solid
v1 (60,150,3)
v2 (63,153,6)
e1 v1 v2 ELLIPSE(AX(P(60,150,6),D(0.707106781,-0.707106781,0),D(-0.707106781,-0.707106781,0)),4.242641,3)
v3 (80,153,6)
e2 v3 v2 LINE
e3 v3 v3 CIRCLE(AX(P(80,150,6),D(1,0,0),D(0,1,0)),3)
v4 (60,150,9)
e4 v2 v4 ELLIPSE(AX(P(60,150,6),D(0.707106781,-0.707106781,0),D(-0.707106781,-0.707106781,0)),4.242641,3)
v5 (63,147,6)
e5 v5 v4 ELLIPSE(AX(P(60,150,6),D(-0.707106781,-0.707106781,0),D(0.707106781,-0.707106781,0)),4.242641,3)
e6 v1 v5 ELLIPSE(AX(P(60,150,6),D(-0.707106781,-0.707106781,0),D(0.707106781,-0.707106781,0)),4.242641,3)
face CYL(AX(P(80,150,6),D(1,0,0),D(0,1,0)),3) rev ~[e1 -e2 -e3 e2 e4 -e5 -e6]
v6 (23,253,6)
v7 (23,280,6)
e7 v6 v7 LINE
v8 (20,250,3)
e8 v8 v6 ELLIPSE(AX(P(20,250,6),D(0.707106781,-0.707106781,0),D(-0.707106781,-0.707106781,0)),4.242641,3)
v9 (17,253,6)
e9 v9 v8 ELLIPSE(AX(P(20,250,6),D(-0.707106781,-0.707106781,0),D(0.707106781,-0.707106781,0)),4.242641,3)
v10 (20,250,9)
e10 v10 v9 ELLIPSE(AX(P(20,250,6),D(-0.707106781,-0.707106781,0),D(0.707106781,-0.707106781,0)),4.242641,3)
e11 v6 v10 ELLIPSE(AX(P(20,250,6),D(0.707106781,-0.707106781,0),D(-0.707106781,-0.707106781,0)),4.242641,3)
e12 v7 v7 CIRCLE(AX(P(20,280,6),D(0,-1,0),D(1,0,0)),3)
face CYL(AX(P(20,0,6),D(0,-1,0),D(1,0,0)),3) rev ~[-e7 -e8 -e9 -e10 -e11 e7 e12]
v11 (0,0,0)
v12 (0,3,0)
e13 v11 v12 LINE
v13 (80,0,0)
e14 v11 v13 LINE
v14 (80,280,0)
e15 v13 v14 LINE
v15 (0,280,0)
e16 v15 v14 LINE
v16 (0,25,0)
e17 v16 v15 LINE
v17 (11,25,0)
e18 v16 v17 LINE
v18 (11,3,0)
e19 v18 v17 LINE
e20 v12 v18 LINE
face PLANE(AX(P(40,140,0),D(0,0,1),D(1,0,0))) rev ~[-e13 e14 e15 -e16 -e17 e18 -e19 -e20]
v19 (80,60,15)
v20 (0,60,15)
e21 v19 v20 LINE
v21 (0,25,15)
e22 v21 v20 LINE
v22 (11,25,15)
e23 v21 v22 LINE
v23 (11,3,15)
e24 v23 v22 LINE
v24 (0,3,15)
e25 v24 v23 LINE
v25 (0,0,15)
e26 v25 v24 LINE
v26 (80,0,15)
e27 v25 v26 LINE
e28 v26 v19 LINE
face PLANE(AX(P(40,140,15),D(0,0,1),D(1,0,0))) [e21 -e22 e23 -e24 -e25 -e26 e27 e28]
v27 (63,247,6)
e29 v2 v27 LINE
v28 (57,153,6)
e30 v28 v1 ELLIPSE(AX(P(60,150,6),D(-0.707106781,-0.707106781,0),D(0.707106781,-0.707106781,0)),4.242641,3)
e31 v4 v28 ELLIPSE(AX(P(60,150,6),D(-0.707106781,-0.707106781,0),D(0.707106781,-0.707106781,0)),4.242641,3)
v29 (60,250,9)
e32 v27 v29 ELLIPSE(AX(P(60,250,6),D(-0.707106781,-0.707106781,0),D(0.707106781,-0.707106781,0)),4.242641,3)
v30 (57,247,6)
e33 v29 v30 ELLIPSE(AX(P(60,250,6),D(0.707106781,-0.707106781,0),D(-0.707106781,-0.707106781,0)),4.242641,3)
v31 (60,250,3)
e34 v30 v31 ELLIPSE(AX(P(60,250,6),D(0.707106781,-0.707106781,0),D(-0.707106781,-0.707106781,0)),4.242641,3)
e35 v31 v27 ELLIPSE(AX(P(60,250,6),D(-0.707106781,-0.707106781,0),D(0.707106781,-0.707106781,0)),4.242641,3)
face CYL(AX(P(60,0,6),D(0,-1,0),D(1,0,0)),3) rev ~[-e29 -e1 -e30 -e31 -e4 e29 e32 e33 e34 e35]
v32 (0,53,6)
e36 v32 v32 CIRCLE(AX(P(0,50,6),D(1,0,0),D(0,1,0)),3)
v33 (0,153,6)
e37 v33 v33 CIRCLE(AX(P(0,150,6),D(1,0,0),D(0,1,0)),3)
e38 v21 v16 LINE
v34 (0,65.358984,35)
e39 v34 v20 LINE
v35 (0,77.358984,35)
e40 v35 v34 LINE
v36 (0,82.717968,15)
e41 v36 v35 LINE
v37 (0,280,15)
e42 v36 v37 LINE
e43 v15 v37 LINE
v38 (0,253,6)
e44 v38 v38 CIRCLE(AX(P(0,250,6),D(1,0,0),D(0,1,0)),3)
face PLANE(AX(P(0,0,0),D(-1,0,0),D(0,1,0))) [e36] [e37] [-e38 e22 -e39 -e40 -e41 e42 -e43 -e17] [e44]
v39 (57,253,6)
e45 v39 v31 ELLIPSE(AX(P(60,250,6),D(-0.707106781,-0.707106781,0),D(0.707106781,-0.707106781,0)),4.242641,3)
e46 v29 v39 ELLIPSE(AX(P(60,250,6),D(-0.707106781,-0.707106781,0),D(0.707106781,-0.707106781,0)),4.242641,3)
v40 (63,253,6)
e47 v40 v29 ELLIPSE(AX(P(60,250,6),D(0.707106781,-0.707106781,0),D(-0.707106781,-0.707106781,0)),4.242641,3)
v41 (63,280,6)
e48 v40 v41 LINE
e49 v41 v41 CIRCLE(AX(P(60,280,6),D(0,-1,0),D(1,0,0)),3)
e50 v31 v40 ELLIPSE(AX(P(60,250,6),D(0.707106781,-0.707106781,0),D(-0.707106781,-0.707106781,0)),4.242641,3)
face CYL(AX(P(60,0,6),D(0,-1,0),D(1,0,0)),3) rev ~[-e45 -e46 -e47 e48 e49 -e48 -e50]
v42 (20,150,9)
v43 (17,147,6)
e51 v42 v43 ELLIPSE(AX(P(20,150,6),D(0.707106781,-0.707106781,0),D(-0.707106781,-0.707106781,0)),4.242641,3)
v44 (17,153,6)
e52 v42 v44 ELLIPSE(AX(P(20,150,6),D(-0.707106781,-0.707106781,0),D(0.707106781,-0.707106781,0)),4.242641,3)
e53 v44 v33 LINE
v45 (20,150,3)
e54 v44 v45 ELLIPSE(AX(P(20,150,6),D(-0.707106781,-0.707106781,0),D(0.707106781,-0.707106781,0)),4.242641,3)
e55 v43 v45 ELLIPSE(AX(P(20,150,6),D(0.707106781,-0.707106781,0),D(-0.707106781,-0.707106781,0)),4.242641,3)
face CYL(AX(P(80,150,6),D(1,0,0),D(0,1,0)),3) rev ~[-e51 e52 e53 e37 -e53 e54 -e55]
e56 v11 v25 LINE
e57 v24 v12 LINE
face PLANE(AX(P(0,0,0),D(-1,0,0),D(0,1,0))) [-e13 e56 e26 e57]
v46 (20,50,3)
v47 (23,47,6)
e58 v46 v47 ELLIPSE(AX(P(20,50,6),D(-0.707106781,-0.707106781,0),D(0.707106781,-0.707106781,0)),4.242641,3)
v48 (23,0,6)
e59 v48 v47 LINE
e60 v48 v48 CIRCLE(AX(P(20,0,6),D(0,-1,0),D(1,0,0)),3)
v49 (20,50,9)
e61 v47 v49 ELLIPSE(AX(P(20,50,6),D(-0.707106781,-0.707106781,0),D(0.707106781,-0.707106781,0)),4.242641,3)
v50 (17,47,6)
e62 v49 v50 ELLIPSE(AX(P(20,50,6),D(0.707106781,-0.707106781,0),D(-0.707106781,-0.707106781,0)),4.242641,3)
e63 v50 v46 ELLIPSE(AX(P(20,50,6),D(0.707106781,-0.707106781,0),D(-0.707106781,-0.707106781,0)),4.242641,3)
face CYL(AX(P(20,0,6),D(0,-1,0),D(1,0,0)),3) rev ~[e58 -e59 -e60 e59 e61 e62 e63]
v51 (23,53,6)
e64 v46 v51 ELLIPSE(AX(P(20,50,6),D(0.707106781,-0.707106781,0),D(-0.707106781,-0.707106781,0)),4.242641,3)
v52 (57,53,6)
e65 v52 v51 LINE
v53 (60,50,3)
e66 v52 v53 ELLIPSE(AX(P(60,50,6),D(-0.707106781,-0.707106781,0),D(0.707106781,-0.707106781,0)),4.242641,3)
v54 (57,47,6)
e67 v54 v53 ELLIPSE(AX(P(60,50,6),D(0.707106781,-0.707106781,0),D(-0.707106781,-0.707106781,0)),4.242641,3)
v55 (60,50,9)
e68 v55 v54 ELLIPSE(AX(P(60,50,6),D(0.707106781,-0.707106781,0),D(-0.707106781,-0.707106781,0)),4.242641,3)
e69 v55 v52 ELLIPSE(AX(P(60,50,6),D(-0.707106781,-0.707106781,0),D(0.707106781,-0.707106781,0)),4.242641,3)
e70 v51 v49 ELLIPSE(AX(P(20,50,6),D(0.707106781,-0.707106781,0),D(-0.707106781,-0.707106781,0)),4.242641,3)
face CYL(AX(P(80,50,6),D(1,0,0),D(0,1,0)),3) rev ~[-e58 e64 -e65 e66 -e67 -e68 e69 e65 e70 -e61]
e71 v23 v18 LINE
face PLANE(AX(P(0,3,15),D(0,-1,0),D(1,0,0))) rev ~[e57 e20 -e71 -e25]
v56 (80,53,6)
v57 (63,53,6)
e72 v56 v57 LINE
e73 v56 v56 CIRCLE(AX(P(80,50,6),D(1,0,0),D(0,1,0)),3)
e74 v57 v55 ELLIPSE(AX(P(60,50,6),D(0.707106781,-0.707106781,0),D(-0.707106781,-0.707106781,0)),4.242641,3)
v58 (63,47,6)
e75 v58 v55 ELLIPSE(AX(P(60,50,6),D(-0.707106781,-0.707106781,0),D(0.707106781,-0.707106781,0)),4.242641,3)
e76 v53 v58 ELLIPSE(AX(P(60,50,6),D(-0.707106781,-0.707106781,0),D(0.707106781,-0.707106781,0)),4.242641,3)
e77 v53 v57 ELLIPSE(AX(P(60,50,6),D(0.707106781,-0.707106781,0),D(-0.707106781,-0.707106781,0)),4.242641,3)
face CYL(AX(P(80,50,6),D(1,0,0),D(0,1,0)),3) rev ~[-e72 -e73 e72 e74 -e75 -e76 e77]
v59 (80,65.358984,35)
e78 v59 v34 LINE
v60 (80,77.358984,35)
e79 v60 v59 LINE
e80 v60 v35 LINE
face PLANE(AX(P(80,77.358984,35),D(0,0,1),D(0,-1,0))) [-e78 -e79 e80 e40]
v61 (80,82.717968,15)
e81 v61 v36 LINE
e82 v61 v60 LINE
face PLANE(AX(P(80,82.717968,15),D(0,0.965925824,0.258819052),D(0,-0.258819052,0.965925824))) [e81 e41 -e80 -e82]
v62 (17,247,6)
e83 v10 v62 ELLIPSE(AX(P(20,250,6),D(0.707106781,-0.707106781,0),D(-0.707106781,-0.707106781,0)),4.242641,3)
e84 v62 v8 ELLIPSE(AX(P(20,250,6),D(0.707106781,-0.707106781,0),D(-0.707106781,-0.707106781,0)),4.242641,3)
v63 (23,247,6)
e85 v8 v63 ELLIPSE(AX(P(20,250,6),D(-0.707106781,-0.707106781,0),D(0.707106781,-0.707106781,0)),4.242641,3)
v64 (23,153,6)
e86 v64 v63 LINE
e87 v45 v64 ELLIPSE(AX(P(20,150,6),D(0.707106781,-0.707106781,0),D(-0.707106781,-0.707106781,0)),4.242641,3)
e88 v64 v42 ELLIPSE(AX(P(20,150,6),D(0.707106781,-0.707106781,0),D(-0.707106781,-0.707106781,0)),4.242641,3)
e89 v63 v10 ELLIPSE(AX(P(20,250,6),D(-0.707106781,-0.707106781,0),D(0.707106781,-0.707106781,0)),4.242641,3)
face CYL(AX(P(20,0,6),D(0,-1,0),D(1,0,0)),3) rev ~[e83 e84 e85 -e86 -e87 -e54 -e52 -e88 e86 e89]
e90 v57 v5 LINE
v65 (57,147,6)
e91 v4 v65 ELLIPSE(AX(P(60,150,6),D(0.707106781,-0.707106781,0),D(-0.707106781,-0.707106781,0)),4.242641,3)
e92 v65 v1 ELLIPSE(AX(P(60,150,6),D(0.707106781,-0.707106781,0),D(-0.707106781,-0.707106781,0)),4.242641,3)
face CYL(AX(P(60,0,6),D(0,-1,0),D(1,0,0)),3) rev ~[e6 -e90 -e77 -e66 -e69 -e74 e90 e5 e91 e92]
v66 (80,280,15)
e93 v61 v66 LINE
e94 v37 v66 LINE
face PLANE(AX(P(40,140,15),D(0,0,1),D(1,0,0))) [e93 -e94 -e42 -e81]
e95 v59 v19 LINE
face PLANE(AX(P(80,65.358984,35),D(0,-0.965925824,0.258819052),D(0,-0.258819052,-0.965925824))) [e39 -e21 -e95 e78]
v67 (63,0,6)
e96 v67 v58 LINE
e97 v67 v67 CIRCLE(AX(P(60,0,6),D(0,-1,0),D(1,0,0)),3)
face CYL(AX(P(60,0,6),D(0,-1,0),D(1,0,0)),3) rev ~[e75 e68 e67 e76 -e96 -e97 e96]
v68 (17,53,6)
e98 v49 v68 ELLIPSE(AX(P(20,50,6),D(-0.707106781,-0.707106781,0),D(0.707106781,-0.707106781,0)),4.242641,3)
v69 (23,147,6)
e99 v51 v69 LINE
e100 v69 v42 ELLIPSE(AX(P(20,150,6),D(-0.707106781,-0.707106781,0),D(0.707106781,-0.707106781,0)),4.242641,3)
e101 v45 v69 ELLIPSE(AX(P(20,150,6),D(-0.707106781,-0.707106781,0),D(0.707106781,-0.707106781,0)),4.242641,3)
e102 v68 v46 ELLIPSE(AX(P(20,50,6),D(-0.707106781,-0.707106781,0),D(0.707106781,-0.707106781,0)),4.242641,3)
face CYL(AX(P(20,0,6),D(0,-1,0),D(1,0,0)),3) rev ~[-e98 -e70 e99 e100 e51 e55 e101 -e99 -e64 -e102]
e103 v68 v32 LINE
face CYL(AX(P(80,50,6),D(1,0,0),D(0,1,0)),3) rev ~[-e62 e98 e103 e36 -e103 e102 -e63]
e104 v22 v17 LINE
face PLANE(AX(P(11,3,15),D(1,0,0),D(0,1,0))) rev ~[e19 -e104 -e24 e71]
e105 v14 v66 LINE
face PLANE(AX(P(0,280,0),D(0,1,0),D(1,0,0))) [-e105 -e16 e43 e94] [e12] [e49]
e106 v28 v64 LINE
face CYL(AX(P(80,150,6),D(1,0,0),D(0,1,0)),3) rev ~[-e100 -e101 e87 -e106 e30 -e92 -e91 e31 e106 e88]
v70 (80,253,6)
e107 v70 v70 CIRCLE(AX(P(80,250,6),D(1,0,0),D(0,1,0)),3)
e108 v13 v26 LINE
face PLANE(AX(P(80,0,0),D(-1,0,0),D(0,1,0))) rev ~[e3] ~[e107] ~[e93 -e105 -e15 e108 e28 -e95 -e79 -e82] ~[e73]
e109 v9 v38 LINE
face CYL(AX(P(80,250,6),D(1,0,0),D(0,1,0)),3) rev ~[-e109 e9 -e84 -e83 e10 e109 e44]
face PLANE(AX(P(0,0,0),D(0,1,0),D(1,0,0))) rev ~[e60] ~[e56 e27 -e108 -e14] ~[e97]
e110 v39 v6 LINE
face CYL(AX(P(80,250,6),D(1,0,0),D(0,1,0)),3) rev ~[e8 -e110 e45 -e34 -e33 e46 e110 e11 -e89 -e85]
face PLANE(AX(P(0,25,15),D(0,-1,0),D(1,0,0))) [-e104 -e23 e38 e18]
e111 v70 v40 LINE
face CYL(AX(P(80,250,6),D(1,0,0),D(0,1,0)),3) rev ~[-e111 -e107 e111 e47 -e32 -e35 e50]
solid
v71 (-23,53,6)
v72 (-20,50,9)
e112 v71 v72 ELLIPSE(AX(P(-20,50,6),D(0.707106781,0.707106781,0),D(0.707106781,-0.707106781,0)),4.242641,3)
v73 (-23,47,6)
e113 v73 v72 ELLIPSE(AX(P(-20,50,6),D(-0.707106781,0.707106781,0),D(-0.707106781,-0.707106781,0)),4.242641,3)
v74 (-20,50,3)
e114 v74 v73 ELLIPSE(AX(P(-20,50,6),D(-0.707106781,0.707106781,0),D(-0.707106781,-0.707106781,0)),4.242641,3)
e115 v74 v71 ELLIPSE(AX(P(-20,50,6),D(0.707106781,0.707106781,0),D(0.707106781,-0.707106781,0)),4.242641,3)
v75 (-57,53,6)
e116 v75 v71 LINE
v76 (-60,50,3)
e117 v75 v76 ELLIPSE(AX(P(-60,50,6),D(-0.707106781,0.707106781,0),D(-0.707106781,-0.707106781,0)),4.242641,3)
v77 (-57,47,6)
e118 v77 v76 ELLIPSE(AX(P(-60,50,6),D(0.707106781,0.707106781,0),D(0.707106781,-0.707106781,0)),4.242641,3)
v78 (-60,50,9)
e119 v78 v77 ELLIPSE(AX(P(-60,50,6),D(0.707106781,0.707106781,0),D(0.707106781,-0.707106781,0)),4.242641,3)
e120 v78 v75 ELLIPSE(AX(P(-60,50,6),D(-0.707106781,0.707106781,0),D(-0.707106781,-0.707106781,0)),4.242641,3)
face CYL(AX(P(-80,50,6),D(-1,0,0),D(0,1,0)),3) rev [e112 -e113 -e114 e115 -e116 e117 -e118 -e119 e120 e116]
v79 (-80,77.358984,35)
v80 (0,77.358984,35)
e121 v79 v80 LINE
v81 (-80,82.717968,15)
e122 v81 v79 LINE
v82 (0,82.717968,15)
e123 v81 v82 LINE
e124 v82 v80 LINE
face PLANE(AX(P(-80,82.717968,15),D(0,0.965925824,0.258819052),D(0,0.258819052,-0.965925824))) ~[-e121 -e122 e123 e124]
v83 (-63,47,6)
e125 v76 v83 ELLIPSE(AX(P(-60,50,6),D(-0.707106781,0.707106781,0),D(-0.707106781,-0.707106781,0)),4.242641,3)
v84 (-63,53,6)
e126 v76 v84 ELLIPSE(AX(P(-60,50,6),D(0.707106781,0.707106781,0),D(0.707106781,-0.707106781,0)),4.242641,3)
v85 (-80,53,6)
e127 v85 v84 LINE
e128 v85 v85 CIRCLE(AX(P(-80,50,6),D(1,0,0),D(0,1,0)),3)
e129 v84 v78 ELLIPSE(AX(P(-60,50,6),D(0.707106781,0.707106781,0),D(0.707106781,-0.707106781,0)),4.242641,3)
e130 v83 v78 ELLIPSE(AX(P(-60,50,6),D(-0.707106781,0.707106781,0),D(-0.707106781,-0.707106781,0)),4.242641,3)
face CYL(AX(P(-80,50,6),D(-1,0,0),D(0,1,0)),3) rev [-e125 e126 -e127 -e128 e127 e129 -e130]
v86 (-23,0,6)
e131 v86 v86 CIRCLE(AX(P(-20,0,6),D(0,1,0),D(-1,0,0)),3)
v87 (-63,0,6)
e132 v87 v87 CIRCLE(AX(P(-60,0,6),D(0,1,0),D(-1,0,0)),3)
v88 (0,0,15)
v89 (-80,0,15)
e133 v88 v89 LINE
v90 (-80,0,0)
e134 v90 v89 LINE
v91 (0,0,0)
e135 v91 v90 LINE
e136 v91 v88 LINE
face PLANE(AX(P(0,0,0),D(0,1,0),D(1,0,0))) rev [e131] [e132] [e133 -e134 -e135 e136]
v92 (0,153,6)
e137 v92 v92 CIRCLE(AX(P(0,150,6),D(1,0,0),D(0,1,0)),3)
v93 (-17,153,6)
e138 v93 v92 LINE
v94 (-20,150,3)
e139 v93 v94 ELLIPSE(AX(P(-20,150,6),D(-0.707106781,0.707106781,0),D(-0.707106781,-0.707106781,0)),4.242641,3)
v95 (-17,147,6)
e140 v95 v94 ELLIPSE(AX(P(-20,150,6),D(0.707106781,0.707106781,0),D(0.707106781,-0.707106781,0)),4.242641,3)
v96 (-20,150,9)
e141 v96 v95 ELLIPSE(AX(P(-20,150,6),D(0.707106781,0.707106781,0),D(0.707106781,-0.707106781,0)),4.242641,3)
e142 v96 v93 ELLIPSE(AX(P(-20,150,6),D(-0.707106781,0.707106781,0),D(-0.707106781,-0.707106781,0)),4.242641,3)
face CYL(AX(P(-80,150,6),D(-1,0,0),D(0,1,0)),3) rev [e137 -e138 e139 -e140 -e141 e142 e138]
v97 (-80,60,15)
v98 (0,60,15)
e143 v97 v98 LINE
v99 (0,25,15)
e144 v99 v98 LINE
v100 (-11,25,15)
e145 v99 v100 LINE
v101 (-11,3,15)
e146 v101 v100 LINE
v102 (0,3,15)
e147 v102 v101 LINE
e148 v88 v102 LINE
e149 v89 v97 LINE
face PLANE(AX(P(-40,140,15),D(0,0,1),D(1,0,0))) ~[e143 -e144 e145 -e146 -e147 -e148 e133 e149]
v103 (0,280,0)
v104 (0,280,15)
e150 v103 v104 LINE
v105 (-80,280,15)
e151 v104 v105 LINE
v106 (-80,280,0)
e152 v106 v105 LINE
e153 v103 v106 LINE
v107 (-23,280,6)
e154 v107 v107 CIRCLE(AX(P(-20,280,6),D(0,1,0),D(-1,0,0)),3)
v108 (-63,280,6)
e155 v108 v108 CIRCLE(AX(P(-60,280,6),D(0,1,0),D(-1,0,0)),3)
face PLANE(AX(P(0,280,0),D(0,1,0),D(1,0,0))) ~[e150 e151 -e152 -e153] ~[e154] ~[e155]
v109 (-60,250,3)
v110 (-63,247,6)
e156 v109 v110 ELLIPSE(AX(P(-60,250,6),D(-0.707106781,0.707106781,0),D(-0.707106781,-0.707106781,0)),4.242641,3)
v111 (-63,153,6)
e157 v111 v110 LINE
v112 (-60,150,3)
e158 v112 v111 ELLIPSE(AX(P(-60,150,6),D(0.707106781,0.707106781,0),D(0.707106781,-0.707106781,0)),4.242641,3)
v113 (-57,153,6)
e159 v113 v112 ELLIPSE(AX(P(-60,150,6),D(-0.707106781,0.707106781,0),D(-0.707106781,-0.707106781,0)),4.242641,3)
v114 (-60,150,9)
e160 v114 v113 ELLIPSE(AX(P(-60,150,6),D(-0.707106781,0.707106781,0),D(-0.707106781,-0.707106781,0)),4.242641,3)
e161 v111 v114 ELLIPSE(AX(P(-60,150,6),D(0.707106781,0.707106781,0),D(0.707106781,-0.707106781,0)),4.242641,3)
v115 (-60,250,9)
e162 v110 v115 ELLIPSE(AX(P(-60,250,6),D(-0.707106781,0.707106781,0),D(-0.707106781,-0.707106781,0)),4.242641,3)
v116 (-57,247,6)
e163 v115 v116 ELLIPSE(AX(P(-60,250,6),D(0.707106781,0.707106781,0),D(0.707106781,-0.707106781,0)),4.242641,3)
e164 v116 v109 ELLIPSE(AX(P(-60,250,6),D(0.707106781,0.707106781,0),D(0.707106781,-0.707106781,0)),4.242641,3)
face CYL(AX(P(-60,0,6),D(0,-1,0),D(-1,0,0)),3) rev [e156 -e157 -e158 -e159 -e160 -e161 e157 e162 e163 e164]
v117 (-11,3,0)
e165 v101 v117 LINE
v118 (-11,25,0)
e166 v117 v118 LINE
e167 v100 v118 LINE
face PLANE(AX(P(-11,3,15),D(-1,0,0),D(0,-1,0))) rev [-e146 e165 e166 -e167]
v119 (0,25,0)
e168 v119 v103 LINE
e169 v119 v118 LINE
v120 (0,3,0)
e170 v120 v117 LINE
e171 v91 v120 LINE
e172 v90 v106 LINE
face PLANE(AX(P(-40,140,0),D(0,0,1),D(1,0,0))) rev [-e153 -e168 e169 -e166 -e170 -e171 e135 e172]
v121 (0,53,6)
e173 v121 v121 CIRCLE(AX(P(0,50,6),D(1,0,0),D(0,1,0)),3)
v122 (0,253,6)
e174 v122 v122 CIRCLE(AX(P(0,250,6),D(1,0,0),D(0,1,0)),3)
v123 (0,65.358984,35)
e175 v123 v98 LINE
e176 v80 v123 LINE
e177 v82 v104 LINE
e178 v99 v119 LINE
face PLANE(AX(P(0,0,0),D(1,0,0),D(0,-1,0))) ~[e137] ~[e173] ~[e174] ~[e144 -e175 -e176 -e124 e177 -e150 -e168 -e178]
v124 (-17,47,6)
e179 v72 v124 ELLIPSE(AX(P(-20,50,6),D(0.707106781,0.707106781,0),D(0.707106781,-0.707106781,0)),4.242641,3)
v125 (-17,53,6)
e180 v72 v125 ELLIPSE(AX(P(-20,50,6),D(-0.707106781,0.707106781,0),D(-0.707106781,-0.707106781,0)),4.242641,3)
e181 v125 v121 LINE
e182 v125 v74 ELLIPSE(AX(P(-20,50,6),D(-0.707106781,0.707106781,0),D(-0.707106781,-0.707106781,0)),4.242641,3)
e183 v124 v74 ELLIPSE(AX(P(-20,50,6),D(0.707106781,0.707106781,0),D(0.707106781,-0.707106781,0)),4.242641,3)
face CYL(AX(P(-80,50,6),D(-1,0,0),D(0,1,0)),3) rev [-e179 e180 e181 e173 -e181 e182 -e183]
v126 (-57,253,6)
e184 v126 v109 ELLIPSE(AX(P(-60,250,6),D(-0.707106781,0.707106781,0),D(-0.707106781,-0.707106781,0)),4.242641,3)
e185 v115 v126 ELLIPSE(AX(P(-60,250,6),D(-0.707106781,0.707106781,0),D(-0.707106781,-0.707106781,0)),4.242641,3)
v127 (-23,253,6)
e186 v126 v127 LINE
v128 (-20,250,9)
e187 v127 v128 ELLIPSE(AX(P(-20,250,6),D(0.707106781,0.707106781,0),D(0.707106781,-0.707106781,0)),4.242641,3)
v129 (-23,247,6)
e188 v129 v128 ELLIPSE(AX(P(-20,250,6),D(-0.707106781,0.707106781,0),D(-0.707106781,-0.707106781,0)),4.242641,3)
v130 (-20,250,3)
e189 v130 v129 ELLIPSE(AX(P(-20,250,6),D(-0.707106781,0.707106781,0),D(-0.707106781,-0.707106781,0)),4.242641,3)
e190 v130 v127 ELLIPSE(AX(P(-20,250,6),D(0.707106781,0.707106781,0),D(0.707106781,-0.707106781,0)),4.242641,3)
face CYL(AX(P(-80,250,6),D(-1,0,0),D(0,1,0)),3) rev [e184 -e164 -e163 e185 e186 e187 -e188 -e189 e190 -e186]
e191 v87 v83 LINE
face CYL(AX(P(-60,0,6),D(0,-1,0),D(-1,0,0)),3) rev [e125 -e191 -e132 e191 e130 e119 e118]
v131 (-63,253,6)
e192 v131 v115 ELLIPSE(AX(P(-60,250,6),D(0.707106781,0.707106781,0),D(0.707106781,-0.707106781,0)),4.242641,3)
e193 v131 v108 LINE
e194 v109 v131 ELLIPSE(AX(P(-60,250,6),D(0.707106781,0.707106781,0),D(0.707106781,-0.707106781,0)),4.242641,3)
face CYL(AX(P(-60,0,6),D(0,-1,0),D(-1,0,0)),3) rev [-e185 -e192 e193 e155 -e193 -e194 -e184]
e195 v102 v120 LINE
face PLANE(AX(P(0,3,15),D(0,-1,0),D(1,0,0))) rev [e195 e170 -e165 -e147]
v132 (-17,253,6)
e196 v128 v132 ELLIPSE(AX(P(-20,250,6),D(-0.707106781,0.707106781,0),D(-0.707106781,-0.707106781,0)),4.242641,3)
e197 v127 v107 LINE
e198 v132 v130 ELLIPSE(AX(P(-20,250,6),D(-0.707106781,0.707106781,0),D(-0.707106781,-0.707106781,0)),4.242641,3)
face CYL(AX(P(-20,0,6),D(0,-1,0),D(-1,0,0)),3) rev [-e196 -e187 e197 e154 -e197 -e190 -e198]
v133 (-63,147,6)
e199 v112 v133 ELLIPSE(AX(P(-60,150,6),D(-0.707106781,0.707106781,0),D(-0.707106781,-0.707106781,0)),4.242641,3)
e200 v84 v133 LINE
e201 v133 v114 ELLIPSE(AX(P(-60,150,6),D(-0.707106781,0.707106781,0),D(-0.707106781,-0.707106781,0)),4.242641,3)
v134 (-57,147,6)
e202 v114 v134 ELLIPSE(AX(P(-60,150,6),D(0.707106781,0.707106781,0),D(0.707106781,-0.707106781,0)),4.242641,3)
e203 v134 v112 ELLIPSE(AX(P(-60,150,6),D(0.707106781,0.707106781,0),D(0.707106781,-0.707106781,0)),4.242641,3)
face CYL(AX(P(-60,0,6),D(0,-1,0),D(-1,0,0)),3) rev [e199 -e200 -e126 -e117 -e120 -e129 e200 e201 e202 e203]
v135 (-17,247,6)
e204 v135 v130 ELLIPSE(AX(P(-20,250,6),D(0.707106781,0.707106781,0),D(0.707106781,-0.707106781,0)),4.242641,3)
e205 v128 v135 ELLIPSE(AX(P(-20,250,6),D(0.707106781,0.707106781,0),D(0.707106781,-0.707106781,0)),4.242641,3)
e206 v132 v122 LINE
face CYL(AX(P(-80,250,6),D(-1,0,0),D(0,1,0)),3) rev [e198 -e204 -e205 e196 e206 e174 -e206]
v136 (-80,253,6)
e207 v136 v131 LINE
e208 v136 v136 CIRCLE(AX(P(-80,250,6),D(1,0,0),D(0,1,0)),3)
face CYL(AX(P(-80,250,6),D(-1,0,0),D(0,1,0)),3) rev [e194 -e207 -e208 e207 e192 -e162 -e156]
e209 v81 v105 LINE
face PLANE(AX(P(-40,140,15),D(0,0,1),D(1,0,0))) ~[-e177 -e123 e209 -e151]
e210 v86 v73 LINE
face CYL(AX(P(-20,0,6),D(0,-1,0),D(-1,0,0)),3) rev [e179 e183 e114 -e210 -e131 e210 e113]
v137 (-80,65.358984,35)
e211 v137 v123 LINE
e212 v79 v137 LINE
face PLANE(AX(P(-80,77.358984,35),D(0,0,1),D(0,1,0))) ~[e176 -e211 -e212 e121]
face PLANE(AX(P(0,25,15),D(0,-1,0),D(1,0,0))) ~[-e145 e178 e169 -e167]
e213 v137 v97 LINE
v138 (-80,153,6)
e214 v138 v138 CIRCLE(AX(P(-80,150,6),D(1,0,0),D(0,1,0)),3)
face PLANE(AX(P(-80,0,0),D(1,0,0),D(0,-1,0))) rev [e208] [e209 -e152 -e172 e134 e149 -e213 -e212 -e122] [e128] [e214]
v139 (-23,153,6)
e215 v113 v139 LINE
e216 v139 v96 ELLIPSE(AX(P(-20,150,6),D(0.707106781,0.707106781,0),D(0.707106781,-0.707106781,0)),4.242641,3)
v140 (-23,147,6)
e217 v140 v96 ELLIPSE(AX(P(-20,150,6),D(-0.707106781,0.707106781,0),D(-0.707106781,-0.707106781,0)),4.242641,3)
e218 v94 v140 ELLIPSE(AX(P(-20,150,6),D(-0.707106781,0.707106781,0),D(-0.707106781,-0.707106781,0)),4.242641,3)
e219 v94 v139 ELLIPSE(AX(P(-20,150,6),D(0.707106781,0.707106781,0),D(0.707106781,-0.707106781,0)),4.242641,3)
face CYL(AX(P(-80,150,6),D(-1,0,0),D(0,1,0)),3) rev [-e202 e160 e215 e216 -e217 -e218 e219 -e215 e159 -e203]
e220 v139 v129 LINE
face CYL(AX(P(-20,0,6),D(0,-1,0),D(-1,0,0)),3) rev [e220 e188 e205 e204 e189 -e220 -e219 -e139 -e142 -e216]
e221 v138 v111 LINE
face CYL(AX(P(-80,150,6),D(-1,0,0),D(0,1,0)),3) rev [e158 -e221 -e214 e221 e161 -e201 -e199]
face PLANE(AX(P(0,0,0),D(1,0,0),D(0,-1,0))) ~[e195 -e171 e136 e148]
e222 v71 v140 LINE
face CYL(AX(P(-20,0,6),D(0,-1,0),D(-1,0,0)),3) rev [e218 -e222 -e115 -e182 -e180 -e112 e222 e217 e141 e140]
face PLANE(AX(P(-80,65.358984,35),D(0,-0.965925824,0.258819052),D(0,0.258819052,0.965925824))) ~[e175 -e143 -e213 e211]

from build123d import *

# Parameters (mm, degrees)
F0_W      = 80
F0_H      = 280
F1_DEPTH  = 15
F3_DEPTH  = 80
F4_W      = 11
F4_H      = 22
F5_DEPTH  = 15
F7_R      = 3
F7_R_2    = 6.556779
F8_DEPTH  = 280.001
F9_R      = 3
F10_DEPTH = 80.001


with BuildPart() as f1:
    # F0 (on Top) → F1 (new body)
    with BuildSketch(Plane.XY):
        with Locations((40, 140)):
            Rectangle(F0_W, F0_H)
    extrude(amount=F1_DEPTH)

    # F2 (on face) → F3 (join)
    with BuildSketch(Plane.YZ.offset(80)):
        Polygon((65.358984, 35), (60, 15), (82.717968, 15), (77.358984, 35), align=None)
    extrude(amount=-F3_DEPTH)

    # F4 (on face) → F5 (cut, through all)
    with BuildSketch(Plane.XY.offset(15)):
        with Locations((5.5, 14)):
            Rectangle(F4_W, F4_H)
    extrude(amount=-F5_DEPTH, mode=Mode.SUBTRACT)

    # F7 (on face) → F8 (cut, through all)
    with BuildSketch(Plane.XZ):
        with Locations((60, 6)):
            Circle(F7_R)
        with Locations((-491.183044, 5.330358)):
            Circle(F7_R_2)
        with Locations((20, 6)):
            Circle(F7_R)
    extrude(amount=-F8_DEPTH, mode=Mode.SUBTRACT)

    # F9 (on face) → F10 (cut, through all)
    with BuildSketch(Plane.YZ.offset(80)):
        with Locations((50, 6)):
            Circle(F9_R)
        with Locations((150, 6)):
            Circle(F9_R)
        with Locations((250, 6)):
            Circle(F9_R)
    extrude(amount=-F10_DEPTH, mode=Mode.SUBTRACT)


with BuildPart() as f11_1:
    # F11: instance of F1
    add(f1.part.mirror(Plane(origin=(0, 145.659771, 8.93017), x_dir=(0, -1, 0), z_dir=(-1, 0, 0))))


solid = Compound([f1.part, f11_1.part])
